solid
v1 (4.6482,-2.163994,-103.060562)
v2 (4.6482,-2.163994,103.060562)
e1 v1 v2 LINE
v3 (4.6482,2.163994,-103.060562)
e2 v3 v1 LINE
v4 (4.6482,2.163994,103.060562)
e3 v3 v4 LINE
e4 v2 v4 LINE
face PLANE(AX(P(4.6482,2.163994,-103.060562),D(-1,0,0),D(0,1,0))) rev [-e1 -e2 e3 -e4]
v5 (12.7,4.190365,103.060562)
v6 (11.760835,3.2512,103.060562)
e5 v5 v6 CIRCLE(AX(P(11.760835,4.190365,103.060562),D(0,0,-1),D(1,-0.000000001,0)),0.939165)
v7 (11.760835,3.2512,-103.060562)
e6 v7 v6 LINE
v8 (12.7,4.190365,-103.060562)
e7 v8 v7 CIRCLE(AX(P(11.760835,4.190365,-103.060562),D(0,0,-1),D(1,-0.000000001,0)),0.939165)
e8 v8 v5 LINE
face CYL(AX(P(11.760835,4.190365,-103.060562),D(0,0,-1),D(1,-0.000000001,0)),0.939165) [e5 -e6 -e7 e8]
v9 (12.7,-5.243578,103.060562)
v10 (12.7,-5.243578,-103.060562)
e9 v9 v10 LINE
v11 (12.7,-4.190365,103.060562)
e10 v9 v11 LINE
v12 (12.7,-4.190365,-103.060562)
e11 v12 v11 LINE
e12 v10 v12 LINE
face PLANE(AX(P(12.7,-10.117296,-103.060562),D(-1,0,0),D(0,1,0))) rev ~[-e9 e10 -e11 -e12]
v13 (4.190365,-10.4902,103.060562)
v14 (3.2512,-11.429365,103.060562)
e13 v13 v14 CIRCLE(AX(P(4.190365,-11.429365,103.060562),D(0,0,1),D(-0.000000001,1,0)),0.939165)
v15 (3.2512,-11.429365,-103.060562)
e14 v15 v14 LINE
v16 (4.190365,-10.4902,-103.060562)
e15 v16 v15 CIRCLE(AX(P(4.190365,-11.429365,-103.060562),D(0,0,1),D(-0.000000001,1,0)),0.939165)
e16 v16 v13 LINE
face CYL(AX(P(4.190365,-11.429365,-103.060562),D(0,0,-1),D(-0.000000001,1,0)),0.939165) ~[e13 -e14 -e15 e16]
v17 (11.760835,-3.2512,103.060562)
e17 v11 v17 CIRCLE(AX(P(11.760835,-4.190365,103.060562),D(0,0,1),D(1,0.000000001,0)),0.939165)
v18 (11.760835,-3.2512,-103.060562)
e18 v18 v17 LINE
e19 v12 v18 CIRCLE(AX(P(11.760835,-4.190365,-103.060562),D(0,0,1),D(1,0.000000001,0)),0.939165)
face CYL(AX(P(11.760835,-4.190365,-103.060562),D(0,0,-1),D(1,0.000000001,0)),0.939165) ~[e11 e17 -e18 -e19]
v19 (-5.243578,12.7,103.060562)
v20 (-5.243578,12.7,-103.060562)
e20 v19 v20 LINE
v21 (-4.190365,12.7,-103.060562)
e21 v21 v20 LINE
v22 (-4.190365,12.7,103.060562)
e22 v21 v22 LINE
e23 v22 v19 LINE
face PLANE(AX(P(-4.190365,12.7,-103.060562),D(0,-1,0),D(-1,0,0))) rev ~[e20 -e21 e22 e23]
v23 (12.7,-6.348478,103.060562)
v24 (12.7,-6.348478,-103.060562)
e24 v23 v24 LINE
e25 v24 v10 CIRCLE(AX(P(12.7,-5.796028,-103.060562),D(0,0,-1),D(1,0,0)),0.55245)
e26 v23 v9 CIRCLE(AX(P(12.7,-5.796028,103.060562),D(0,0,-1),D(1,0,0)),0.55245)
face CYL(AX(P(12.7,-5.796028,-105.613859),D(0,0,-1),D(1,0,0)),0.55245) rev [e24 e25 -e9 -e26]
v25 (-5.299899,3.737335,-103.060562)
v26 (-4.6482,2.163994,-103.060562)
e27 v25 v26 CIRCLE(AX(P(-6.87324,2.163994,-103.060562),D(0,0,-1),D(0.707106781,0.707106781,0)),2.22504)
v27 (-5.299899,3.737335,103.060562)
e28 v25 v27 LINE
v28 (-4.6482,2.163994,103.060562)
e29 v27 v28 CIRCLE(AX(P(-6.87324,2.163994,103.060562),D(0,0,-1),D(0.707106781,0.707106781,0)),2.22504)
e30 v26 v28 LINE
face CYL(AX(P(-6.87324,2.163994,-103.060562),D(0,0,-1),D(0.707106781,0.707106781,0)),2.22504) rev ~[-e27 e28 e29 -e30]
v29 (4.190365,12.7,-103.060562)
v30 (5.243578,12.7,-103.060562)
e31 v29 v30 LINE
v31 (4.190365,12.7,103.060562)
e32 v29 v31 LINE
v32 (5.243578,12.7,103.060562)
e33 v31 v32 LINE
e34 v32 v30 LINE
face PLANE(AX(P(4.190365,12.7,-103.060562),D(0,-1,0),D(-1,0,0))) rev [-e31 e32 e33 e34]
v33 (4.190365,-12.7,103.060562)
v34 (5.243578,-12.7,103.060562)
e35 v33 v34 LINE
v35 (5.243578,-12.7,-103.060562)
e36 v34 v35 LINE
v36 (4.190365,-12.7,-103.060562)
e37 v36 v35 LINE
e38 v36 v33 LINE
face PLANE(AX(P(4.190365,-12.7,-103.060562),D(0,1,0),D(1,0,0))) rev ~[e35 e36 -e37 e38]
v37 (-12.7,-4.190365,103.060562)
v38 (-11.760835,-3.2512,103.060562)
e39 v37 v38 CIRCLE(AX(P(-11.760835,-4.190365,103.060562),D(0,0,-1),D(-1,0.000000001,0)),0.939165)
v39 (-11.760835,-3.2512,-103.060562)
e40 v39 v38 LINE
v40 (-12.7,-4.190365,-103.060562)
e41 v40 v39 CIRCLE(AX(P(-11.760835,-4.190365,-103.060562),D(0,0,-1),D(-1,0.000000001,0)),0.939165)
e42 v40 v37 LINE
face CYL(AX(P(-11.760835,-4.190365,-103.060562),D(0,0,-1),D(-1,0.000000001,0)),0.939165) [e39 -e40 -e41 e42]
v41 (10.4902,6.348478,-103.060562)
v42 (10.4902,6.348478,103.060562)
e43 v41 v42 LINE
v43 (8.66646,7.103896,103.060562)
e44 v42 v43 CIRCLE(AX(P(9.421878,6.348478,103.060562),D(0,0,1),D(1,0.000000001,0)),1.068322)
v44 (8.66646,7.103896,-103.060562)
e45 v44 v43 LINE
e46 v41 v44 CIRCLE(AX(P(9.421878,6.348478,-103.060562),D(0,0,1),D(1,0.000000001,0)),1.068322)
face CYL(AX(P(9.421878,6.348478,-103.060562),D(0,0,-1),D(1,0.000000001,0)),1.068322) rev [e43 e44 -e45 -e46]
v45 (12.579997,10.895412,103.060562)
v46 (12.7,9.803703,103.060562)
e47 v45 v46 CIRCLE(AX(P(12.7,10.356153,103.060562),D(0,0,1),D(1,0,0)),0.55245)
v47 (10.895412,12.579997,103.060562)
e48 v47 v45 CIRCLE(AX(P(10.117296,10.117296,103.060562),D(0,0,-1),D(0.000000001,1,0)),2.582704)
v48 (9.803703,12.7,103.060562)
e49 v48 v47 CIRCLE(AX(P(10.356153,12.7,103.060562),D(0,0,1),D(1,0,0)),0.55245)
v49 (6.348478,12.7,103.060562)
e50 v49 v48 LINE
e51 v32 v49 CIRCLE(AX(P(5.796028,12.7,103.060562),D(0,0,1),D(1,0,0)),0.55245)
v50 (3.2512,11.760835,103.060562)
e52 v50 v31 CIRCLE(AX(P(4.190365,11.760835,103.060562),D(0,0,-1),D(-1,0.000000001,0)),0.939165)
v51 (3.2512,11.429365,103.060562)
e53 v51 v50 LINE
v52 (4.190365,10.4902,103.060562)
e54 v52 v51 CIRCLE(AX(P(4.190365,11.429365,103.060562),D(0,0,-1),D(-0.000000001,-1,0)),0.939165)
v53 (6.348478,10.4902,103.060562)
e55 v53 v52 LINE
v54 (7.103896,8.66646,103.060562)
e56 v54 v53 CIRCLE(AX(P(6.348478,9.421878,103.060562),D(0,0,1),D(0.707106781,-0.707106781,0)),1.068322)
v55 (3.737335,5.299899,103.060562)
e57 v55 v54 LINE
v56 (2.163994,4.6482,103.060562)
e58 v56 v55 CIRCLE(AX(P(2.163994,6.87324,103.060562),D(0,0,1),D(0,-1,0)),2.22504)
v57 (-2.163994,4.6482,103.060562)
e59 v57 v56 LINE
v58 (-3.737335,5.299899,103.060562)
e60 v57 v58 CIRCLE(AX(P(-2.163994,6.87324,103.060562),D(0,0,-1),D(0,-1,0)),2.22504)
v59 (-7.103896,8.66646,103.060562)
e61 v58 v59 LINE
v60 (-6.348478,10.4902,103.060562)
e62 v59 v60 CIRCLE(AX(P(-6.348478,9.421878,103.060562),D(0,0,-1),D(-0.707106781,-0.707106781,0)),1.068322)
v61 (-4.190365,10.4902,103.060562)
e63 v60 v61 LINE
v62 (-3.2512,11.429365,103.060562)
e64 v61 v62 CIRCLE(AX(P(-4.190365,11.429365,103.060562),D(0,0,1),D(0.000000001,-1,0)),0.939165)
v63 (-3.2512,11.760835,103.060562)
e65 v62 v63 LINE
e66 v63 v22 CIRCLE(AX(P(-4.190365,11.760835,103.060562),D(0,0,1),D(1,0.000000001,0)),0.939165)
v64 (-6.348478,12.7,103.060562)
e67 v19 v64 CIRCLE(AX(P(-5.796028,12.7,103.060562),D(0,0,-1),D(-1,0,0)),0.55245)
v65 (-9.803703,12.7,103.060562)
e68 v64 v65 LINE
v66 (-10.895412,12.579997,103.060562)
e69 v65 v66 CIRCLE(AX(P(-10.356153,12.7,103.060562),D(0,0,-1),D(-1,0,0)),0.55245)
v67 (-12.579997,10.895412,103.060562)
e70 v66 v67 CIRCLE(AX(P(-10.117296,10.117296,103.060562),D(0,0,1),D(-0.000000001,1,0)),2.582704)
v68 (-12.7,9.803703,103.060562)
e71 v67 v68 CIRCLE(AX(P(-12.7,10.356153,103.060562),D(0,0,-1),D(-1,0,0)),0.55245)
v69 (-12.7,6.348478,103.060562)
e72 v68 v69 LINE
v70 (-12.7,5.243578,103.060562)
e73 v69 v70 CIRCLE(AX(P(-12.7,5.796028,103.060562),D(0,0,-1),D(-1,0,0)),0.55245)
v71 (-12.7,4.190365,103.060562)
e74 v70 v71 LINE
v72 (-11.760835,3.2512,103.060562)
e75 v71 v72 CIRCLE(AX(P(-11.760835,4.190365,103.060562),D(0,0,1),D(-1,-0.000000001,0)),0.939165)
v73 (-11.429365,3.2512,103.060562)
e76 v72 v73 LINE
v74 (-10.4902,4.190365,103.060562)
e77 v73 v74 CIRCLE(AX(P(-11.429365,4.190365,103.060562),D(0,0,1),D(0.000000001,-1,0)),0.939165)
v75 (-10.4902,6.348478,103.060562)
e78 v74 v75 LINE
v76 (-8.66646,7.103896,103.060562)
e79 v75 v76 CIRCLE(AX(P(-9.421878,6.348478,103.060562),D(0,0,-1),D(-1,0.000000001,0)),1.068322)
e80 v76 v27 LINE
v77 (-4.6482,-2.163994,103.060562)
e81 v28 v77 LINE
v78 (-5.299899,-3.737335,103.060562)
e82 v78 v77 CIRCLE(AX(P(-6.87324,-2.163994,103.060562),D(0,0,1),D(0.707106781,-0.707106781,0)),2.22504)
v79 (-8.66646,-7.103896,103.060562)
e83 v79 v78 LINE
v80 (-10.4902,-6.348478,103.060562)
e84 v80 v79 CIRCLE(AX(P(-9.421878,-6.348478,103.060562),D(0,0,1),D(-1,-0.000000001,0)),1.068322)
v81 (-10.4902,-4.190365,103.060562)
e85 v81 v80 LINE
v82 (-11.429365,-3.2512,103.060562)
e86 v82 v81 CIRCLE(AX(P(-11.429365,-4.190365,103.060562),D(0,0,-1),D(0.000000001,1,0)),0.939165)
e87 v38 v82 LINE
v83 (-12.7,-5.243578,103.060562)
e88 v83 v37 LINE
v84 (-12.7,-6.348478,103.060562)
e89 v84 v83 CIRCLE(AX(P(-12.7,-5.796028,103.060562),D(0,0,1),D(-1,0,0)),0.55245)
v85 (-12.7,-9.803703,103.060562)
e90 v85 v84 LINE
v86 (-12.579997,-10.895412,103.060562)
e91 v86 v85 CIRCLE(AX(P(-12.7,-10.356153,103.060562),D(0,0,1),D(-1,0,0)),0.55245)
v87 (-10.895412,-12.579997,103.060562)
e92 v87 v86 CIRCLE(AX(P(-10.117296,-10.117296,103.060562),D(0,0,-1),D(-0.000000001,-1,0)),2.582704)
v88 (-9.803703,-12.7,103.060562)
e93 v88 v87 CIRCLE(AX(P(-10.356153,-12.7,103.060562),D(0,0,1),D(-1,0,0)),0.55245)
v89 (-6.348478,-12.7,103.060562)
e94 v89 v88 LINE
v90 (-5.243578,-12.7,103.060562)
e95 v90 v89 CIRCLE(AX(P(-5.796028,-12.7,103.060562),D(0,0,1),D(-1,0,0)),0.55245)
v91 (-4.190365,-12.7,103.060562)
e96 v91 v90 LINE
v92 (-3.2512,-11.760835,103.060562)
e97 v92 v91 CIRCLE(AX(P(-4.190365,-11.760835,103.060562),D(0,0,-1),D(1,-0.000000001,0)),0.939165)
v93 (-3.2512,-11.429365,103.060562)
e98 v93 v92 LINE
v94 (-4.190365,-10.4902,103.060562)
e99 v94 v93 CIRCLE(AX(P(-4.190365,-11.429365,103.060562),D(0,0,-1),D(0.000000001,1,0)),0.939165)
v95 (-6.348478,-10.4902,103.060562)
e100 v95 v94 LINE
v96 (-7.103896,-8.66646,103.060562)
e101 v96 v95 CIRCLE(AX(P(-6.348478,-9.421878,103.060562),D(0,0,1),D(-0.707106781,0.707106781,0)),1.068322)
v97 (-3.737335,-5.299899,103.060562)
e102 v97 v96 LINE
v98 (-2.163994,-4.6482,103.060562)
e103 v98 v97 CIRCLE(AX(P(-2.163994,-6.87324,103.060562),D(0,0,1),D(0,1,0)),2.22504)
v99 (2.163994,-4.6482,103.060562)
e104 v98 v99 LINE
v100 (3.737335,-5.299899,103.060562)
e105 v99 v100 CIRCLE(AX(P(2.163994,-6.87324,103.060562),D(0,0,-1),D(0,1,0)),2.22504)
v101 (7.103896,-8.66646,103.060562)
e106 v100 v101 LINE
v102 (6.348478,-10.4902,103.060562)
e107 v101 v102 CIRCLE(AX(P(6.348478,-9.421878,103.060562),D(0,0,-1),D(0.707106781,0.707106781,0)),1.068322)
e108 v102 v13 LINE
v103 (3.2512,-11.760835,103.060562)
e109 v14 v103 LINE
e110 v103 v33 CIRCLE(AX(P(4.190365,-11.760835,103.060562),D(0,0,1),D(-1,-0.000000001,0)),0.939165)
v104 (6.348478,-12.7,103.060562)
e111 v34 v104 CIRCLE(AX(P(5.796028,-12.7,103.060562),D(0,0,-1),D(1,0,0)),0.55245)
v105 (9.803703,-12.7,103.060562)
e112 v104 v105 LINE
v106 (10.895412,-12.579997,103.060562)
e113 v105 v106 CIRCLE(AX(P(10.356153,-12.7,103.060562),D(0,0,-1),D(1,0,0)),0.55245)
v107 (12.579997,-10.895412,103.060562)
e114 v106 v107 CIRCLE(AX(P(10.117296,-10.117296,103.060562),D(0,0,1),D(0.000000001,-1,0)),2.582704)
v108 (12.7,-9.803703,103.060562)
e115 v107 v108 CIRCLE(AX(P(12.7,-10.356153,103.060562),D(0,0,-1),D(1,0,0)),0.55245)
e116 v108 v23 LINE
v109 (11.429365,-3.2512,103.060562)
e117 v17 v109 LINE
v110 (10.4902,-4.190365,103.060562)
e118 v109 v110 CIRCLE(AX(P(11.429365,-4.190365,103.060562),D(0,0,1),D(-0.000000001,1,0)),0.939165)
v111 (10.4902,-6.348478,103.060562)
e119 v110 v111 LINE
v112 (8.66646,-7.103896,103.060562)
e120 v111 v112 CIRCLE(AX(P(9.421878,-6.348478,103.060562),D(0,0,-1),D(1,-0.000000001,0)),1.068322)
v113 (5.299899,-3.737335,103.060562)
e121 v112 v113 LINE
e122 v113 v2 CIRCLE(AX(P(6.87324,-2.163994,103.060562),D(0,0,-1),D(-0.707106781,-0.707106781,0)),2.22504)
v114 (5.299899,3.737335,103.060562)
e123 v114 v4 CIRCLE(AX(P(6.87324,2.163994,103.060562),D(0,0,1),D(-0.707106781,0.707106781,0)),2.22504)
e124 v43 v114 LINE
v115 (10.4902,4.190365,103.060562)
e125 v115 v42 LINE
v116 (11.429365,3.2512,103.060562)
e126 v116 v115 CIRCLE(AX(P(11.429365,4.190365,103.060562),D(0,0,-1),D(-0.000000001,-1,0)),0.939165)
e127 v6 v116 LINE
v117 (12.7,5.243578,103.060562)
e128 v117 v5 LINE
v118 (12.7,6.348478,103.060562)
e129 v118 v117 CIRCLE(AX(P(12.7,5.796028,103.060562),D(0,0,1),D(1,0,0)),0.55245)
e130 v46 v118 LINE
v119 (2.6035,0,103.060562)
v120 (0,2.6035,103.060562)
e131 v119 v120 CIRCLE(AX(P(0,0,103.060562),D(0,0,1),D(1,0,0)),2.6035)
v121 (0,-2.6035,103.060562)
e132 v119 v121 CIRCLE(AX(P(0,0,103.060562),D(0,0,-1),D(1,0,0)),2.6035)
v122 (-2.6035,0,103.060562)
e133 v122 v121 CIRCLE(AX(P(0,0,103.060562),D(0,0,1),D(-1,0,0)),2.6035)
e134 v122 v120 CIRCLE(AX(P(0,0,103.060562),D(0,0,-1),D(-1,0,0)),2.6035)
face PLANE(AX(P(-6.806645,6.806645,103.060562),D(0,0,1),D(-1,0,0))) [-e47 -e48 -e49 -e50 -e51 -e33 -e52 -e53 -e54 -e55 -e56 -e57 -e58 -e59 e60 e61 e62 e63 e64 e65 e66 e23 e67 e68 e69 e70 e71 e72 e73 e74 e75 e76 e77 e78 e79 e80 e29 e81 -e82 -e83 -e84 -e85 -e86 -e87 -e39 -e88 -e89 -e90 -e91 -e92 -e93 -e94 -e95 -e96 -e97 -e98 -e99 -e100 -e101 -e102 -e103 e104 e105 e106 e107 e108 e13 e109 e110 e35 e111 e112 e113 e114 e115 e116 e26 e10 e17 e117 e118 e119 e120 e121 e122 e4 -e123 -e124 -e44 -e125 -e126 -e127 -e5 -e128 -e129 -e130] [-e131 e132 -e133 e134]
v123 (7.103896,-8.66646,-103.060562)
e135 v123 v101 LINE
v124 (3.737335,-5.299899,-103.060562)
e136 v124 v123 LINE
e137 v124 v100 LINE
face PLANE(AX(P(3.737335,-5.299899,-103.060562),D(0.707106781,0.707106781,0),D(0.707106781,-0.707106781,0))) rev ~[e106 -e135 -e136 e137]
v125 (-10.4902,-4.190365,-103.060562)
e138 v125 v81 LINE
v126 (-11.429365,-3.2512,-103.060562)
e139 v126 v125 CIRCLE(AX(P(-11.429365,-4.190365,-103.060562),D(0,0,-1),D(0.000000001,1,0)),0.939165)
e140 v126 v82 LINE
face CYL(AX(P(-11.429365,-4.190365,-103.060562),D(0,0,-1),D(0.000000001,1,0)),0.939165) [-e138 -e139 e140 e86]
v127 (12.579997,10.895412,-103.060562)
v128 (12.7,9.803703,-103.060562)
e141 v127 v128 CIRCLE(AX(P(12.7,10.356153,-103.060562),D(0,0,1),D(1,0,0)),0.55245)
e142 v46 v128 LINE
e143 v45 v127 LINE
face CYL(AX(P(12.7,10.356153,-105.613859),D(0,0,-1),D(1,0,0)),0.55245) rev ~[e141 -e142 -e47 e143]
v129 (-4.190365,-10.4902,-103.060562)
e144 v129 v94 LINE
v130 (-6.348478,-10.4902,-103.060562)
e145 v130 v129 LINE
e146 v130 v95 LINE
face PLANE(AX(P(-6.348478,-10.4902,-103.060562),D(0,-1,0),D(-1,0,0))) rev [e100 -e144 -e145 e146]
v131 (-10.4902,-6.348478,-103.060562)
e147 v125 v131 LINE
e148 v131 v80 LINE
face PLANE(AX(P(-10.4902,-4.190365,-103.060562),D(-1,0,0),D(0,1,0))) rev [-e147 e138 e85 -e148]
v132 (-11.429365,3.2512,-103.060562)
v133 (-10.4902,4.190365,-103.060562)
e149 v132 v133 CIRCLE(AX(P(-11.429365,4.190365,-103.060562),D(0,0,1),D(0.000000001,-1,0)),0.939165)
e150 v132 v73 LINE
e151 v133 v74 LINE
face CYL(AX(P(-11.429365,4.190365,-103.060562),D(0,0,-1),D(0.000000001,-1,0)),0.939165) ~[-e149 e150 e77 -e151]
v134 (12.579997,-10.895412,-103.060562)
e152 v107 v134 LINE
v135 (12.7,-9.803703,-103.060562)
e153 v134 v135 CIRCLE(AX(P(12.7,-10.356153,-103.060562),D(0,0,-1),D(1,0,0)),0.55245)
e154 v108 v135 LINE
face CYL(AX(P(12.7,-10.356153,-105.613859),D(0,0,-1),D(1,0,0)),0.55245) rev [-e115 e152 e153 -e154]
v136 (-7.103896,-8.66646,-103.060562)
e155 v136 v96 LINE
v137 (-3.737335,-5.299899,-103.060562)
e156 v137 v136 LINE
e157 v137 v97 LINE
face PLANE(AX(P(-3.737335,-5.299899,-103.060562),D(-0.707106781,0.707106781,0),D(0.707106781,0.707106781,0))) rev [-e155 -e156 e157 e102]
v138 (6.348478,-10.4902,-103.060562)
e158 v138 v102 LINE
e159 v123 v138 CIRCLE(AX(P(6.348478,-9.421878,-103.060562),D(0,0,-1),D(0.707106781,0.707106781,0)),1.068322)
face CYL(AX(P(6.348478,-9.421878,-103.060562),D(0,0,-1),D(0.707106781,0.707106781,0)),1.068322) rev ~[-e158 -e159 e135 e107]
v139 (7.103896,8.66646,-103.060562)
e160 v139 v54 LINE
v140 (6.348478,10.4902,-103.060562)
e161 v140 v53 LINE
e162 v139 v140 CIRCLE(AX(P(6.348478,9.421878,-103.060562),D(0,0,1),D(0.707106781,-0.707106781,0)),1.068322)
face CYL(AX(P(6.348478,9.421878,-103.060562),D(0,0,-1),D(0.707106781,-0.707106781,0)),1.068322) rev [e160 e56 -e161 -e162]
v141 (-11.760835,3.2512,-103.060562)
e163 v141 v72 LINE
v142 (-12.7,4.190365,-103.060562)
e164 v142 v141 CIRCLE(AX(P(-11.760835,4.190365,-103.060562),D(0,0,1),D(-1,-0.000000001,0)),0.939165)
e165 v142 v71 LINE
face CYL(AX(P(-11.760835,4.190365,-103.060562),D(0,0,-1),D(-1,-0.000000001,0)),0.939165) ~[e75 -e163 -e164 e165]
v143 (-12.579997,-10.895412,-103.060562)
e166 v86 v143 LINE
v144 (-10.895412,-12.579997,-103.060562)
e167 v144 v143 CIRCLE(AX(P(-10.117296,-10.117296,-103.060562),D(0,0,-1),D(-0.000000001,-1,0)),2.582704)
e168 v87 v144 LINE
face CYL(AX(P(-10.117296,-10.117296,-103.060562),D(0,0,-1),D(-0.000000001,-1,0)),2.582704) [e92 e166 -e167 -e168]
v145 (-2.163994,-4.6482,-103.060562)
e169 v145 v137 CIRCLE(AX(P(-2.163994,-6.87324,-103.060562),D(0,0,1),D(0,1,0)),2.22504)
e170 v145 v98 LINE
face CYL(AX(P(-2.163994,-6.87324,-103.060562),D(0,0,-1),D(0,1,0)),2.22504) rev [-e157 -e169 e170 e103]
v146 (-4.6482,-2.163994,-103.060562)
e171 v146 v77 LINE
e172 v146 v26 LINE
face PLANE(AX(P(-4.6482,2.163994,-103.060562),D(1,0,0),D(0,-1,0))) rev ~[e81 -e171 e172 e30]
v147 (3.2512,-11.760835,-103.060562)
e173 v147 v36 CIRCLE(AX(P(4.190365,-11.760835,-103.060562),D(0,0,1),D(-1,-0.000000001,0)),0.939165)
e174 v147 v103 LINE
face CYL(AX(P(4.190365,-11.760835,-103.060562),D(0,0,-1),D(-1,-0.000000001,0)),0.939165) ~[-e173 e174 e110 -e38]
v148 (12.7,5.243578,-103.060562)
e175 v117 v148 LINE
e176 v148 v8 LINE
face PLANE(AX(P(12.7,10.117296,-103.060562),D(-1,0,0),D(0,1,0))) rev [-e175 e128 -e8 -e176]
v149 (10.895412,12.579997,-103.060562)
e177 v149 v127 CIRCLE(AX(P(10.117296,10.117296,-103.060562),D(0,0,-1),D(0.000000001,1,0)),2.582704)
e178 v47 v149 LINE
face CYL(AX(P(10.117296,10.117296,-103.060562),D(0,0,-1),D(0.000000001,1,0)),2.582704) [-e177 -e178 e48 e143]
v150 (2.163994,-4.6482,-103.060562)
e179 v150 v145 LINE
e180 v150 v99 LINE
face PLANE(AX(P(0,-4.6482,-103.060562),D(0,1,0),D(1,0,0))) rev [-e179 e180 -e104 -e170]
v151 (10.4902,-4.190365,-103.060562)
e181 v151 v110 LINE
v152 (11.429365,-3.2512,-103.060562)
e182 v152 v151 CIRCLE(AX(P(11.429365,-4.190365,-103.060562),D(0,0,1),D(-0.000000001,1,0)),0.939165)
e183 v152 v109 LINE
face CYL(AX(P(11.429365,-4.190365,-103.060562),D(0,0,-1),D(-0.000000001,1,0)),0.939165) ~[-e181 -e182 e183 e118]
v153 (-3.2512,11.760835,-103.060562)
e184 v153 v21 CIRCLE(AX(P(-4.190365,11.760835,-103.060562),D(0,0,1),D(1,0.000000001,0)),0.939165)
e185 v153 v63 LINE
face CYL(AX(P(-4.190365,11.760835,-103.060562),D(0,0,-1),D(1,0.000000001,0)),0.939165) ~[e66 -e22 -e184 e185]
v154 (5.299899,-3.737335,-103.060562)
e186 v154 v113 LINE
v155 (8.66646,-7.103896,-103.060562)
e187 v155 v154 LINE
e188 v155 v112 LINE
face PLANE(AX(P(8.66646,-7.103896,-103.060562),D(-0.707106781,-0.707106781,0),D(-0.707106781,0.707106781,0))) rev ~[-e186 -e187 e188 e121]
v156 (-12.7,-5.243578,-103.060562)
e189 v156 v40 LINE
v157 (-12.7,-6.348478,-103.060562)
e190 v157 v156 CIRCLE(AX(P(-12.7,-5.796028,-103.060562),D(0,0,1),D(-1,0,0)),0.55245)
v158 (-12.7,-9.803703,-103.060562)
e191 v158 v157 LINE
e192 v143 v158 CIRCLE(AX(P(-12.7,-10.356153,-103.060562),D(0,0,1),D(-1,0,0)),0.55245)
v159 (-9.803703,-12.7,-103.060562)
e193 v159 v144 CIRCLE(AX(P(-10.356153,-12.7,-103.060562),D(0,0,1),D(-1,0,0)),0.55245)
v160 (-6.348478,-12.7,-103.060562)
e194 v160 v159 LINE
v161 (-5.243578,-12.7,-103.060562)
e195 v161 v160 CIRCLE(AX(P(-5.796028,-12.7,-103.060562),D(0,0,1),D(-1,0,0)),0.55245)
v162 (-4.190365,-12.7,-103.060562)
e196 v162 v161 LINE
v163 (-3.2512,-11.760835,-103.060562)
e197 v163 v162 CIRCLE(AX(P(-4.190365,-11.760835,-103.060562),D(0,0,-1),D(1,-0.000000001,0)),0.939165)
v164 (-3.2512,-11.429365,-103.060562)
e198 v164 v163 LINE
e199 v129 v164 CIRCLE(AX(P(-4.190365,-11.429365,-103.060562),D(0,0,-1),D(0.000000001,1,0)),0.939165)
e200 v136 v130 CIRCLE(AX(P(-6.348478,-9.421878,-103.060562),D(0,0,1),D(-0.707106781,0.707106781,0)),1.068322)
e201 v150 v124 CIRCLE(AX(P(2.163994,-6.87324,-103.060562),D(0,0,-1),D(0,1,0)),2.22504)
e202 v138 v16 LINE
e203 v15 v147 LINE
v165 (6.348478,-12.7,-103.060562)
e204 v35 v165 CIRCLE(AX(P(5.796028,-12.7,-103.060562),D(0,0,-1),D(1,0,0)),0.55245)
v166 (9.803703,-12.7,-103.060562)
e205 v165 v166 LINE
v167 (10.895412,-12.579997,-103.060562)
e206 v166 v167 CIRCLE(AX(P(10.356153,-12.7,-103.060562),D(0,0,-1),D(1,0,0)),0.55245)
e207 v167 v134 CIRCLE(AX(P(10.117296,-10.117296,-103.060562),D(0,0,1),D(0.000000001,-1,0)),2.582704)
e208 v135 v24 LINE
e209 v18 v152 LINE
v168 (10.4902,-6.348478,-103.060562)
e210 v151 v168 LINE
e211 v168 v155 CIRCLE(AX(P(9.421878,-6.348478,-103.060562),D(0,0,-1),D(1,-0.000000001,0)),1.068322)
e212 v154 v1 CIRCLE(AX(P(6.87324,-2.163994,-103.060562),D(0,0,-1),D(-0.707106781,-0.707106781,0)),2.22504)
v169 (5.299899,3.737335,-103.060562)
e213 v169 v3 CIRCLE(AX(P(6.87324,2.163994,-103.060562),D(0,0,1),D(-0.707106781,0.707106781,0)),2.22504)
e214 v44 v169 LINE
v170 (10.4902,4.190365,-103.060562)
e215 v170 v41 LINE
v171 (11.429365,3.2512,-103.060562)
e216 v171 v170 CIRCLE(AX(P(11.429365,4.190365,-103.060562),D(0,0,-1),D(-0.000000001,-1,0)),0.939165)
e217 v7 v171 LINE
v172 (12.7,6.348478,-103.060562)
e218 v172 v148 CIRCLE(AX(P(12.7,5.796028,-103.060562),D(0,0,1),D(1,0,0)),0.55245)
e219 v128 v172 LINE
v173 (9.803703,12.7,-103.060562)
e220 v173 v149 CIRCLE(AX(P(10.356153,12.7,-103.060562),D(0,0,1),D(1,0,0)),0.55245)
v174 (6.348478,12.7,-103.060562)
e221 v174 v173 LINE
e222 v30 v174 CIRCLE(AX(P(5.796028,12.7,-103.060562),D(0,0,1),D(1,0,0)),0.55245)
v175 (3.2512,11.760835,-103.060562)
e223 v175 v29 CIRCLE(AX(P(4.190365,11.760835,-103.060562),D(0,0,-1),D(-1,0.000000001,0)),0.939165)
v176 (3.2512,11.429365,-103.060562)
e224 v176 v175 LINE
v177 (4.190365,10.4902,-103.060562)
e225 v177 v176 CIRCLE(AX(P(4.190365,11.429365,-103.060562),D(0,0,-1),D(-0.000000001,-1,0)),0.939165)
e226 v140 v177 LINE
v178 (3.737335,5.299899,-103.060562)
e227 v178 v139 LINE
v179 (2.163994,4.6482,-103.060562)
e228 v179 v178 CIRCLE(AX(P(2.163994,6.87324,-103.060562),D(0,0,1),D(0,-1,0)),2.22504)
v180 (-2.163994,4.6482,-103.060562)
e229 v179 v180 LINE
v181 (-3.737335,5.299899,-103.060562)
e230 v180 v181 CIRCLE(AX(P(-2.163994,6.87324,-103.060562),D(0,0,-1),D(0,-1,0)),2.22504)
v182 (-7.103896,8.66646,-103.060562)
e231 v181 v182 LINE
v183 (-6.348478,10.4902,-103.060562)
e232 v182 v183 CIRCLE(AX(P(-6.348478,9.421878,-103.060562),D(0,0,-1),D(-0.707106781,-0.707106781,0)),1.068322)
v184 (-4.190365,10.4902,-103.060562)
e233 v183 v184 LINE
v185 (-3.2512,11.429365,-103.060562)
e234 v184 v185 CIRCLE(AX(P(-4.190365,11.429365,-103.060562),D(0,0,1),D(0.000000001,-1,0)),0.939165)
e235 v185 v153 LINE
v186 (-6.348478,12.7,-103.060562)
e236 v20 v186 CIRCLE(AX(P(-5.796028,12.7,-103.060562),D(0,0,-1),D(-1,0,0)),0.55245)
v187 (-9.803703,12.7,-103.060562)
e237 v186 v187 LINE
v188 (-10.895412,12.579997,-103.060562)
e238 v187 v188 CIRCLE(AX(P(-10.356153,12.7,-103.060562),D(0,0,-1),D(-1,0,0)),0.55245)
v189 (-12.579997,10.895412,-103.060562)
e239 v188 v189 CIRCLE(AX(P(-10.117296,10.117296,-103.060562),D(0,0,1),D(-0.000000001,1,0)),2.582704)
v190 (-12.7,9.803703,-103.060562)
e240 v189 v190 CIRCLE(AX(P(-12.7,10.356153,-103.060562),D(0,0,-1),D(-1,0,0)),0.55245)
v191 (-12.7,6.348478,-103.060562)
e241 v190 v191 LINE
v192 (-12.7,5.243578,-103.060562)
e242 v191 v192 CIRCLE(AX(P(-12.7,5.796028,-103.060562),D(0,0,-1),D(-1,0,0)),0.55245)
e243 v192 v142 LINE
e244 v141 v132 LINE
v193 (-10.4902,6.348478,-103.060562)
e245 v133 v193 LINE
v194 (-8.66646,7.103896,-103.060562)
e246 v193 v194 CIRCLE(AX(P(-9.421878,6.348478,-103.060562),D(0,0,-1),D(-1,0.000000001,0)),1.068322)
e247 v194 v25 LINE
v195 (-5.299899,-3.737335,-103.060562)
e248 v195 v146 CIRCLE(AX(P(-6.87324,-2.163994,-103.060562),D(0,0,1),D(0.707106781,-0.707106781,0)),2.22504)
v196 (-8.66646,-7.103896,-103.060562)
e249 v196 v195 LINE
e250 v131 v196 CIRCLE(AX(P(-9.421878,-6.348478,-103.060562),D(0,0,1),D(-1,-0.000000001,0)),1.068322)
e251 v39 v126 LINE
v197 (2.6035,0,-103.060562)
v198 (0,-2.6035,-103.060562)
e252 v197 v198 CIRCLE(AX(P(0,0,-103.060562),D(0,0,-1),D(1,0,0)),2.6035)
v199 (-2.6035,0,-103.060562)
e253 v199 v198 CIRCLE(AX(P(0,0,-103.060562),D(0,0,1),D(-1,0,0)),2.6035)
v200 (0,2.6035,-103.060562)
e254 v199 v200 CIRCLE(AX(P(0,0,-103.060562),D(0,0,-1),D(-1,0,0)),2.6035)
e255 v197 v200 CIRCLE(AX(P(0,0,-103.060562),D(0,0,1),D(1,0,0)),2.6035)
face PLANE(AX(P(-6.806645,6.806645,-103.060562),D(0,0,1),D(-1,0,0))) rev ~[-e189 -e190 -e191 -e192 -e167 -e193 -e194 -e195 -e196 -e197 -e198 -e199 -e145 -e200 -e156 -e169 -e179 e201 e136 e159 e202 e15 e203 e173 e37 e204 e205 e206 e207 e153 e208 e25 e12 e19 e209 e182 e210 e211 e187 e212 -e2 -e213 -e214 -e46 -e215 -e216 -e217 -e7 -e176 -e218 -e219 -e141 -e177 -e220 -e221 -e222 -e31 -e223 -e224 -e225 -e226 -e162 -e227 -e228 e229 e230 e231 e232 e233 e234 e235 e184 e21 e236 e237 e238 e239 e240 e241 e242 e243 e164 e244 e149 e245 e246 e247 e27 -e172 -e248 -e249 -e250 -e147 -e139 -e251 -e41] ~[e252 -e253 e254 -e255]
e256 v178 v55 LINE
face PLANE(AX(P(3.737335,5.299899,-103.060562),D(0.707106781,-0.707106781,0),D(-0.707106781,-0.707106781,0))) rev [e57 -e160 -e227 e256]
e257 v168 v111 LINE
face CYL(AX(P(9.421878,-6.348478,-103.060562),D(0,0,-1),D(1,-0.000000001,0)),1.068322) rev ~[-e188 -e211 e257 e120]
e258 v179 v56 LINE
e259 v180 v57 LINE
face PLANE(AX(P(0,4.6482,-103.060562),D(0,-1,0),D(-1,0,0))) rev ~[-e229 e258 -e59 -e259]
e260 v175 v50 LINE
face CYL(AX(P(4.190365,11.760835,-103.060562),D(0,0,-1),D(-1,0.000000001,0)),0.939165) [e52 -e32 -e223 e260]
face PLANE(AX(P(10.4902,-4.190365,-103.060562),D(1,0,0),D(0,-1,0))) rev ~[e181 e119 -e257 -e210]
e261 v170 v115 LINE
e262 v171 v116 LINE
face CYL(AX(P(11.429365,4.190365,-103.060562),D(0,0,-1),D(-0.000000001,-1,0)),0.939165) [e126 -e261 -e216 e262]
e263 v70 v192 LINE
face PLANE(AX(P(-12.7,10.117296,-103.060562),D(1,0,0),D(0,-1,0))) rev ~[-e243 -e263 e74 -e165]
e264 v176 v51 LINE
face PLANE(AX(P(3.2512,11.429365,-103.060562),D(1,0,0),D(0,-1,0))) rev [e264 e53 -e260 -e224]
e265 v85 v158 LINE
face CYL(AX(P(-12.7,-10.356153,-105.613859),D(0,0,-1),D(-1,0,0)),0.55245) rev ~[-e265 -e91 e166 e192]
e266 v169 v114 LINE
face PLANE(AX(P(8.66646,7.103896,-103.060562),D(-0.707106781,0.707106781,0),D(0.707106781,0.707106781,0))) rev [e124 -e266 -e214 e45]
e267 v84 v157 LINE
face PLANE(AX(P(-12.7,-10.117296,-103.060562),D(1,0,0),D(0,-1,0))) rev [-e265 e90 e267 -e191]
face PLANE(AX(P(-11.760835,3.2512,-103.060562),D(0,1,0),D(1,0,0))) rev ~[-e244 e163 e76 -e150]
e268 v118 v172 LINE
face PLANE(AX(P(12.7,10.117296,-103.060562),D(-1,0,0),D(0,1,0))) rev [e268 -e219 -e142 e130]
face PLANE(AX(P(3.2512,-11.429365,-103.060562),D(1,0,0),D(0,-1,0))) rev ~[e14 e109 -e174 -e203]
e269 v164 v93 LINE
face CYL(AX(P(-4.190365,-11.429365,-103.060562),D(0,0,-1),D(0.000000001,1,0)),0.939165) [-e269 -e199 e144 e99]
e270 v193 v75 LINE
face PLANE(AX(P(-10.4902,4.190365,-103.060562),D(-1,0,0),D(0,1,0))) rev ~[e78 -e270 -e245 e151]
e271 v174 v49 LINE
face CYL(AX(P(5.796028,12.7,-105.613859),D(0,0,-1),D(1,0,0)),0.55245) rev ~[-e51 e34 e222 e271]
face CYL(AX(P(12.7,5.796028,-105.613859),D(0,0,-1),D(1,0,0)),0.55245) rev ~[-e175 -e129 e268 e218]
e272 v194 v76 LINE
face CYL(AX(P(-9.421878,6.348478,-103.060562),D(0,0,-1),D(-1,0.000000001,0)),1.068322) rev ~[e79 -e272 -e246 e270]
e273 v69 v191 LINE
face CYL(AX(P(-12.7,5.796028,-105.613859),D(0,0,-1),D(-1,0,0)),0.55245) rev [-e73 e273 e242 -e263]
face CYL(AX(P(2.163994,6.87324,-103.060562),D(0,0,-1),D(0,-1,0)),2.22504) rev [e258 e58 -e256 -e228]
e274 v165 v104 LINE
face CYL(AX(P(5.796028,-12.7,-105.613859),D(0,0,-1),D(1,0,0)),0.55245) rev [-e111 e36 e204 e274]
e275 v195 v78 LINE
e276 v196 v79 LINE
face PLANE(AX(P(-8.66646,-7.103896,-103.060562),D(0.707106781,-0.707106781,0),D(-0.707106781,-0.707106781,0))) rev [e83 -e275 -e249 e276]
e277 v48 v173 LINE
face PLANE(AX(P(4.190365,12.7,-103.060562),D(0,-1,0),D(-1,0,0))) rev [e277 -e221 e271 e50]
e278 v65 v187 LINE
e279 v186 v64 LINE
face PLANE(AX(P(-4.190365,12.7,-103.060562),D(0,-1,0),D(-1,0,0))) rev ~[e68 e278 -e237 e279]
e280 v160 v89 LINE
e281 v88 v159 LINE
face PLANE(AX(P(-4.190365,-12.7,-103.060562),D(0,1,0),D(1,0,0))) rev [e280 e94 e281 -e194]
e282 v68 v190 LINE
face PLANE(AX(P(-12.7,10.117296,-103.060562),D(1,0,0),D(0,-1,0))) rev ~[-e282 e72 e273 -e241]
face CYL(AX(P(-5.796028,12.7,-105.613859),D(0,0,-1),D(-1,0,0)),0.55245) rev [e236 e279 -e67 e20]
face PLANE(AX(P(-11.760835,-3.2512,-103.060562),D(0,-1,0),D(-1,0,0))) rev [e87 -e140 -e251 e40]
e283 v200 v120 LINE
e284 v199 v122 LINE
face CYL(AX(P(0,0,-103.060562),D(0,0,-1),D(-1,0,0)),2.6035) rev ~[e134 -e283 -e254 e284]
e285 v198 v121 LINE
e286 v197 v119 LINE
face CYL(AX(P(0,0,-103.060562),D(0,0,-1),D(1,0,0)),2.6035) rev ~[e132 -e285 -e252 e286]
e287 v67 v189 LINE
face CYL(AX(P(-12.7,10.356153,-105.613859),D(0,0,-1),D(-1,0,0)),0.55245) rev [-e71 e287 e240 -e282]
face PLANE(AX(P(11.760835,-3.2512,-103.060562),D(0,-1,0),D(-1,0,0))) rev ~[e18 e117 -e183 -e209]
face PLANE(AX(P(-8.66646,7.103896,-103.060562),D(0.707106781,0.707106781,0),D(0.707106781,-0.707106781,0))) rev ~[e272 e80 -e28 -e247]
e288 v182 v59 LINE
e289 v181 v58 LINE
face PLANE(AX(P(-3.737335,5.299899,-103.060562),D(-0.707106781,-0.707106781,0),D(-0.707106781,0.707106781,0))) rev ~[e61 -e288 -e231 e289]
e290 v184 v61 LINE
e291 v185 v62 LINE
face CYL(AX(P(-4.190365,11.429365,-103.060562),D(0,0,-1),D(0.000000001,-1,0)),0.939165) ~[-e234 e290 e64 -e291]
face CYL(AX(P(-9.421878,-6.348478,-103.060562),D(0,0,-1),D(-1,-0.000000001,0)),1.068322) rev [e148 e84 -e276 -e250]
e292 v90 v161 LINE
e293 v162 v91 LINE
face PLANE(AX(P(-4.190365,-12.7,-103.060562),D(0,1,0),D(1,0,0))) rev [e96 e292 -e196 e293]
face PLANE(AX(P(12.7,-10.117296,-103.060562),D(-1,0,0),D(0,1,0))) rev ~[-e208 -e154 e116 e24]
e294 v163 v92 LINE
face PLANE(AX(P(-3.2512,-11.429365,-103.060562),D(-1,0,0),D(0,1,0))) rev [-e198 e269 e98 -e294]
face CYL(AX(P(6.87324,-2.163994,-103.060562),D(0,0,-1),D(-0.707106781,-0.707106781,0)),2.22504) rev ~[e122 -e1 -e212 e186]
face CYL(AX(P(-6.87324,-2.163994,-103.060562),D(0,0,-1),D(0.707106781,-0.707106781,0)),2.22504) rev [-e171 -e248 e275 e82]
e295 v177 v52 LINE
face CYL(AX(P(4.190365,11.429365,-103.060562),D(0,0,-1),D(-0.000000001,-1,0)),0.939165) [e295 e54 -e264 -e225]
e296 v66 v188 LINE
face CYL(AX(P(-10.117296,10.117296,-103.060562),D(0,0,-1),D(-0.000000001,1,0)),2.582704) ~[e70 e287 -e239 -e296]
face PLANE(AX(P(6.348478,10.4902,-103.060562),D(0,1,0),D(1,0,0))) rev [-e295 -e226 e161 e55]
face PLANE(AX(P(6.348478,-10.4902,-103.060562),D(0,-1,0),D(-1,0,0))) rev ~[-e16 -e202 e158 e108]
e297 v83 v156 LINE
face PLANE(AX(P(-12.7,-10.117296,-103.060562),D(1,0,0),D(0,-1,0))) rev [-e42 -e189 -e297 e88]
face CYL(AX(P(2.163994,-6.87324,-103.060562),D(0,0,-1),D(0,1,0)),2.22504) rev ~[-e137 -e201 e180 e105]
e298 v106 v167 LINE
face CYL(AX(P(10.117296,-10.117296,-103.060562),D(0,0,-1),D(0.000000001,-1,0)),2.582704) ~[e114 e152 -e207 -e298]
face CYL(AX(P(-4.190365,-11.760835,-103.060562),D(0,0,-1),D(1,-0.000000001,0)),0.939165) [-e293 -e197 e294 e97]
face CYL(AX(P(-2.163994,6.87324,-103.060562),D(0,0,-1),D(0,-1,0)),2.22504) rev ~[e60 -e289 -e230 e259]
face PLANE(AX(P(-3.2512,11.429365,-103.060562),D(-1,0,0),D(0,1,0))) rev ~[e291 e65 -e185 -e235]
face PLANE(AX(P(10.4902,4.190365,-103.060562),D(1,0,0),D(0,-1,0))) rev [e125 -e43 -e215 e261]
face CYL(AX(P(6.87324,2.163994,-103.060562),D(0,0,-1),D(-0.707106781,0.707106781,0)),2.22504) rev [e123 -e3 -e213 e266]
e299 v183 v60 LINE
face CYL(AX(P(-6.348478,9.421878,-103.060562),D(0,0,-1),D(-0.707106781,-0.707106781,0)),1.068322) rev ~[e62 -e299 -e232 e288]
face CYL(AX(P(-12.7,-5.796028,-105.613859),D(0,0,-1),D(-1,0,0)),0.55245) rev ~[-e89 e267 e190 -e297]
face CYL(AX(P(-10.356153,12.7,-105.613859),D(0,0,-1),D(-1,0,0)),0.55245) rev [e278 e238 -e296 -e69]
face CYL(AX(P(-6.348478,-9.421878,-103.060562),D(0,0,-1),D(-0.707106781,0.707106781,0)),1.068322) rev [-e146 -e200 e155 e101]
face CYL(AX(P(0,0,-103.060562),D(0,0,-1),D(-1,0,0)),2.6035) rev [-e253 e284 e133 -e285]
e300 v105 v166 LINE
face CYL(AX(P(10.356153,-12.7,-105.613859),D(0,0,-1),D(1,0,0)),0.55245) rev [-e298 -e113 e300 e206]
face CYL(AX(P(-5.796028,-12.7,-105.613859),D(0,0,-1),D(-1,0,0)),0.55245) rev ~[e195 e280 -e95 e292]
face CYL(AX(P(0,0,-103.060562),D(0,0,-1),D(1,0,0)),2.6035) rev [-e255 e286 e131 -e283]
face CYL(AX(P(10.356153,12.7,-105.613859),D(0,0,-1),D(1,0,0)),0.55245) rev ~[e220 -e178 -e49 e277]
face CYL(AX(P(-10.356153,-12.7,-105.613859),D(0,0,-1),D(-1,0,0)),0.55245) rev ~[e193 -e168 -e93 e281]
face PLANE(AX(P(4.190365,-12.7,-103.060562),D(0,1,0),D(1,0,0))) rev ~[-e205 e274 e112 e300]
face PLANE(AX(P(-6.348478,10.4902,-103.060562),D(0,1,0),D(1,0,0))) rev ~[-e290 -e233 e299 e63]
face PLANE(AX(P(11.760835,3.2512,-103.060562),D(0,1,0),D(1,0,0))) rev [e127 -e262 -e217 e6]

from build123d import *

# Parameters (mm, degrees)
BOSS_EXTRUDE1_START     = -103.060562
BOSS_EXTRUDE1_DEPTH     = 206.121124
CUT_EXTRUDE1_DEPTH      = 105.613858737
CUT_EXTRUDE1_DEPTH_BACK = 105.613858737
SKETCH5_R               = 0.55245


with BuildPart() as part:
    # Sketch4 → Boss-Extrude1 (new body)
    with BuildSketch(Plane.XY.offset(BOSS_EXTRUDE1_START)):
        with BuildLine():
            Line((4.190365, -12.7), (10.11729625, -12.7))
            ThreePointArc((10.11729625, -12.7), (11.943543585, -11.943543585), (12.7, -10.11729625))
            Line((12.7, -10.11729625), (12.7, -4.190365))
            ThreePointArc((12.7, -4.190365), (12.42492494, -3.52627506), (11.760835, -3.2512))
            Line((11.760835, -3.2512), (11.429365, -3.2512))
            ThreePointArc((11.429365, -3.2512), (10.76527506, -3.52627506), (10.4902, -4.190365))
            Line((10.4902, -4.190365), (10.4902, -6.348478019))
            ThreePointArc((10.4902, -6.348478019), (9.830707141, -7.335478831), (8.666460301, -7.103895736))
            Line((8.666460301, -7.103895736), (5.299899128, -3.737334563))
            ThreePointArc((5.299899128, -3.737334563), (4.817571085, -3.015479634), (4.6482, -2.16399369))
            Line((4.6482, -2.16399369), (4.6482, 0))
            Line((4.6482, 0), (2.6035, 0))
            ThreePointArc((2.6035, 0), (1.840952505, -1.840952505), (0, -2.6035))
            Line((0, -2.6035), (0, -4.6482))
            Line((0, -4.6482), (2.16399369, -4.6482))
            ThreePointArc((2.16399369, -4.6482), (3.015479634, -4.817571085), (3.737334563, -5.299899128))
            Line((3.737334563, -5.299899128), (7.103895736, -8.666460301))
            ThreePointArc((7.103895736, -8.666460301), (7.335478831, -9.830707141), (6.348478019, -10.4902))
            Line((6.348478019, -10.4902), (4.190365, -10.4902))
            ThreePointArc((4.190365, -10.4902), (3.52627506, -10.76527506), (3.2512, -11.429365))
            Line((3.2512, -11.429365), (3.2512, -11.760835))
            ThreePointArc((3.2512, -11.760835), (3.52627506, -12.42492494), (4.190365, -12.7))
        make_face()
    extrude(amount=BOSS_EXTRUDE1_DEPTH)

    # Sketch5 → Cut-Extrude1 (cut, two sides: drawn at the far end of the back side and taken through both)
    with BuildSketch(Plane.XY.offset(-CUT_EXTRUDE1_DEPTH_BACK)):
        with Locations((10.356153152, -12.7)):
            Circle(SKETCH5_R)
        with Locations((5.796028019, -12.7)):
            Circle(SKETCH5_R)
        with Locations((12.7, -10.356153152)):
            Circle(SKETCH5_R)
        with Locations((12.7, -5.796028019)):
            Circle(SKETCH5_R)
    extrude(amount=CUT_EXTRUDE1_DEPTH + CUT_EXTRUDE1_DEPTH_BACK, mode=Mode.SUBTRACT)

    # Mirror1: part across plane


with BuildPart() as part_1:
    add(part.part)
    add(part.part.mirror(Plane(origin=(0, 0, 0), x_dir=(0, 0, 1), z_dir=(1, 0, 0))))

    # Mirror2: part across plane


with BuildPart() as part_2:
    add(part_1.part)
    add(part_1.part.mirror(Plane.ZX))


solid = part_2.part
